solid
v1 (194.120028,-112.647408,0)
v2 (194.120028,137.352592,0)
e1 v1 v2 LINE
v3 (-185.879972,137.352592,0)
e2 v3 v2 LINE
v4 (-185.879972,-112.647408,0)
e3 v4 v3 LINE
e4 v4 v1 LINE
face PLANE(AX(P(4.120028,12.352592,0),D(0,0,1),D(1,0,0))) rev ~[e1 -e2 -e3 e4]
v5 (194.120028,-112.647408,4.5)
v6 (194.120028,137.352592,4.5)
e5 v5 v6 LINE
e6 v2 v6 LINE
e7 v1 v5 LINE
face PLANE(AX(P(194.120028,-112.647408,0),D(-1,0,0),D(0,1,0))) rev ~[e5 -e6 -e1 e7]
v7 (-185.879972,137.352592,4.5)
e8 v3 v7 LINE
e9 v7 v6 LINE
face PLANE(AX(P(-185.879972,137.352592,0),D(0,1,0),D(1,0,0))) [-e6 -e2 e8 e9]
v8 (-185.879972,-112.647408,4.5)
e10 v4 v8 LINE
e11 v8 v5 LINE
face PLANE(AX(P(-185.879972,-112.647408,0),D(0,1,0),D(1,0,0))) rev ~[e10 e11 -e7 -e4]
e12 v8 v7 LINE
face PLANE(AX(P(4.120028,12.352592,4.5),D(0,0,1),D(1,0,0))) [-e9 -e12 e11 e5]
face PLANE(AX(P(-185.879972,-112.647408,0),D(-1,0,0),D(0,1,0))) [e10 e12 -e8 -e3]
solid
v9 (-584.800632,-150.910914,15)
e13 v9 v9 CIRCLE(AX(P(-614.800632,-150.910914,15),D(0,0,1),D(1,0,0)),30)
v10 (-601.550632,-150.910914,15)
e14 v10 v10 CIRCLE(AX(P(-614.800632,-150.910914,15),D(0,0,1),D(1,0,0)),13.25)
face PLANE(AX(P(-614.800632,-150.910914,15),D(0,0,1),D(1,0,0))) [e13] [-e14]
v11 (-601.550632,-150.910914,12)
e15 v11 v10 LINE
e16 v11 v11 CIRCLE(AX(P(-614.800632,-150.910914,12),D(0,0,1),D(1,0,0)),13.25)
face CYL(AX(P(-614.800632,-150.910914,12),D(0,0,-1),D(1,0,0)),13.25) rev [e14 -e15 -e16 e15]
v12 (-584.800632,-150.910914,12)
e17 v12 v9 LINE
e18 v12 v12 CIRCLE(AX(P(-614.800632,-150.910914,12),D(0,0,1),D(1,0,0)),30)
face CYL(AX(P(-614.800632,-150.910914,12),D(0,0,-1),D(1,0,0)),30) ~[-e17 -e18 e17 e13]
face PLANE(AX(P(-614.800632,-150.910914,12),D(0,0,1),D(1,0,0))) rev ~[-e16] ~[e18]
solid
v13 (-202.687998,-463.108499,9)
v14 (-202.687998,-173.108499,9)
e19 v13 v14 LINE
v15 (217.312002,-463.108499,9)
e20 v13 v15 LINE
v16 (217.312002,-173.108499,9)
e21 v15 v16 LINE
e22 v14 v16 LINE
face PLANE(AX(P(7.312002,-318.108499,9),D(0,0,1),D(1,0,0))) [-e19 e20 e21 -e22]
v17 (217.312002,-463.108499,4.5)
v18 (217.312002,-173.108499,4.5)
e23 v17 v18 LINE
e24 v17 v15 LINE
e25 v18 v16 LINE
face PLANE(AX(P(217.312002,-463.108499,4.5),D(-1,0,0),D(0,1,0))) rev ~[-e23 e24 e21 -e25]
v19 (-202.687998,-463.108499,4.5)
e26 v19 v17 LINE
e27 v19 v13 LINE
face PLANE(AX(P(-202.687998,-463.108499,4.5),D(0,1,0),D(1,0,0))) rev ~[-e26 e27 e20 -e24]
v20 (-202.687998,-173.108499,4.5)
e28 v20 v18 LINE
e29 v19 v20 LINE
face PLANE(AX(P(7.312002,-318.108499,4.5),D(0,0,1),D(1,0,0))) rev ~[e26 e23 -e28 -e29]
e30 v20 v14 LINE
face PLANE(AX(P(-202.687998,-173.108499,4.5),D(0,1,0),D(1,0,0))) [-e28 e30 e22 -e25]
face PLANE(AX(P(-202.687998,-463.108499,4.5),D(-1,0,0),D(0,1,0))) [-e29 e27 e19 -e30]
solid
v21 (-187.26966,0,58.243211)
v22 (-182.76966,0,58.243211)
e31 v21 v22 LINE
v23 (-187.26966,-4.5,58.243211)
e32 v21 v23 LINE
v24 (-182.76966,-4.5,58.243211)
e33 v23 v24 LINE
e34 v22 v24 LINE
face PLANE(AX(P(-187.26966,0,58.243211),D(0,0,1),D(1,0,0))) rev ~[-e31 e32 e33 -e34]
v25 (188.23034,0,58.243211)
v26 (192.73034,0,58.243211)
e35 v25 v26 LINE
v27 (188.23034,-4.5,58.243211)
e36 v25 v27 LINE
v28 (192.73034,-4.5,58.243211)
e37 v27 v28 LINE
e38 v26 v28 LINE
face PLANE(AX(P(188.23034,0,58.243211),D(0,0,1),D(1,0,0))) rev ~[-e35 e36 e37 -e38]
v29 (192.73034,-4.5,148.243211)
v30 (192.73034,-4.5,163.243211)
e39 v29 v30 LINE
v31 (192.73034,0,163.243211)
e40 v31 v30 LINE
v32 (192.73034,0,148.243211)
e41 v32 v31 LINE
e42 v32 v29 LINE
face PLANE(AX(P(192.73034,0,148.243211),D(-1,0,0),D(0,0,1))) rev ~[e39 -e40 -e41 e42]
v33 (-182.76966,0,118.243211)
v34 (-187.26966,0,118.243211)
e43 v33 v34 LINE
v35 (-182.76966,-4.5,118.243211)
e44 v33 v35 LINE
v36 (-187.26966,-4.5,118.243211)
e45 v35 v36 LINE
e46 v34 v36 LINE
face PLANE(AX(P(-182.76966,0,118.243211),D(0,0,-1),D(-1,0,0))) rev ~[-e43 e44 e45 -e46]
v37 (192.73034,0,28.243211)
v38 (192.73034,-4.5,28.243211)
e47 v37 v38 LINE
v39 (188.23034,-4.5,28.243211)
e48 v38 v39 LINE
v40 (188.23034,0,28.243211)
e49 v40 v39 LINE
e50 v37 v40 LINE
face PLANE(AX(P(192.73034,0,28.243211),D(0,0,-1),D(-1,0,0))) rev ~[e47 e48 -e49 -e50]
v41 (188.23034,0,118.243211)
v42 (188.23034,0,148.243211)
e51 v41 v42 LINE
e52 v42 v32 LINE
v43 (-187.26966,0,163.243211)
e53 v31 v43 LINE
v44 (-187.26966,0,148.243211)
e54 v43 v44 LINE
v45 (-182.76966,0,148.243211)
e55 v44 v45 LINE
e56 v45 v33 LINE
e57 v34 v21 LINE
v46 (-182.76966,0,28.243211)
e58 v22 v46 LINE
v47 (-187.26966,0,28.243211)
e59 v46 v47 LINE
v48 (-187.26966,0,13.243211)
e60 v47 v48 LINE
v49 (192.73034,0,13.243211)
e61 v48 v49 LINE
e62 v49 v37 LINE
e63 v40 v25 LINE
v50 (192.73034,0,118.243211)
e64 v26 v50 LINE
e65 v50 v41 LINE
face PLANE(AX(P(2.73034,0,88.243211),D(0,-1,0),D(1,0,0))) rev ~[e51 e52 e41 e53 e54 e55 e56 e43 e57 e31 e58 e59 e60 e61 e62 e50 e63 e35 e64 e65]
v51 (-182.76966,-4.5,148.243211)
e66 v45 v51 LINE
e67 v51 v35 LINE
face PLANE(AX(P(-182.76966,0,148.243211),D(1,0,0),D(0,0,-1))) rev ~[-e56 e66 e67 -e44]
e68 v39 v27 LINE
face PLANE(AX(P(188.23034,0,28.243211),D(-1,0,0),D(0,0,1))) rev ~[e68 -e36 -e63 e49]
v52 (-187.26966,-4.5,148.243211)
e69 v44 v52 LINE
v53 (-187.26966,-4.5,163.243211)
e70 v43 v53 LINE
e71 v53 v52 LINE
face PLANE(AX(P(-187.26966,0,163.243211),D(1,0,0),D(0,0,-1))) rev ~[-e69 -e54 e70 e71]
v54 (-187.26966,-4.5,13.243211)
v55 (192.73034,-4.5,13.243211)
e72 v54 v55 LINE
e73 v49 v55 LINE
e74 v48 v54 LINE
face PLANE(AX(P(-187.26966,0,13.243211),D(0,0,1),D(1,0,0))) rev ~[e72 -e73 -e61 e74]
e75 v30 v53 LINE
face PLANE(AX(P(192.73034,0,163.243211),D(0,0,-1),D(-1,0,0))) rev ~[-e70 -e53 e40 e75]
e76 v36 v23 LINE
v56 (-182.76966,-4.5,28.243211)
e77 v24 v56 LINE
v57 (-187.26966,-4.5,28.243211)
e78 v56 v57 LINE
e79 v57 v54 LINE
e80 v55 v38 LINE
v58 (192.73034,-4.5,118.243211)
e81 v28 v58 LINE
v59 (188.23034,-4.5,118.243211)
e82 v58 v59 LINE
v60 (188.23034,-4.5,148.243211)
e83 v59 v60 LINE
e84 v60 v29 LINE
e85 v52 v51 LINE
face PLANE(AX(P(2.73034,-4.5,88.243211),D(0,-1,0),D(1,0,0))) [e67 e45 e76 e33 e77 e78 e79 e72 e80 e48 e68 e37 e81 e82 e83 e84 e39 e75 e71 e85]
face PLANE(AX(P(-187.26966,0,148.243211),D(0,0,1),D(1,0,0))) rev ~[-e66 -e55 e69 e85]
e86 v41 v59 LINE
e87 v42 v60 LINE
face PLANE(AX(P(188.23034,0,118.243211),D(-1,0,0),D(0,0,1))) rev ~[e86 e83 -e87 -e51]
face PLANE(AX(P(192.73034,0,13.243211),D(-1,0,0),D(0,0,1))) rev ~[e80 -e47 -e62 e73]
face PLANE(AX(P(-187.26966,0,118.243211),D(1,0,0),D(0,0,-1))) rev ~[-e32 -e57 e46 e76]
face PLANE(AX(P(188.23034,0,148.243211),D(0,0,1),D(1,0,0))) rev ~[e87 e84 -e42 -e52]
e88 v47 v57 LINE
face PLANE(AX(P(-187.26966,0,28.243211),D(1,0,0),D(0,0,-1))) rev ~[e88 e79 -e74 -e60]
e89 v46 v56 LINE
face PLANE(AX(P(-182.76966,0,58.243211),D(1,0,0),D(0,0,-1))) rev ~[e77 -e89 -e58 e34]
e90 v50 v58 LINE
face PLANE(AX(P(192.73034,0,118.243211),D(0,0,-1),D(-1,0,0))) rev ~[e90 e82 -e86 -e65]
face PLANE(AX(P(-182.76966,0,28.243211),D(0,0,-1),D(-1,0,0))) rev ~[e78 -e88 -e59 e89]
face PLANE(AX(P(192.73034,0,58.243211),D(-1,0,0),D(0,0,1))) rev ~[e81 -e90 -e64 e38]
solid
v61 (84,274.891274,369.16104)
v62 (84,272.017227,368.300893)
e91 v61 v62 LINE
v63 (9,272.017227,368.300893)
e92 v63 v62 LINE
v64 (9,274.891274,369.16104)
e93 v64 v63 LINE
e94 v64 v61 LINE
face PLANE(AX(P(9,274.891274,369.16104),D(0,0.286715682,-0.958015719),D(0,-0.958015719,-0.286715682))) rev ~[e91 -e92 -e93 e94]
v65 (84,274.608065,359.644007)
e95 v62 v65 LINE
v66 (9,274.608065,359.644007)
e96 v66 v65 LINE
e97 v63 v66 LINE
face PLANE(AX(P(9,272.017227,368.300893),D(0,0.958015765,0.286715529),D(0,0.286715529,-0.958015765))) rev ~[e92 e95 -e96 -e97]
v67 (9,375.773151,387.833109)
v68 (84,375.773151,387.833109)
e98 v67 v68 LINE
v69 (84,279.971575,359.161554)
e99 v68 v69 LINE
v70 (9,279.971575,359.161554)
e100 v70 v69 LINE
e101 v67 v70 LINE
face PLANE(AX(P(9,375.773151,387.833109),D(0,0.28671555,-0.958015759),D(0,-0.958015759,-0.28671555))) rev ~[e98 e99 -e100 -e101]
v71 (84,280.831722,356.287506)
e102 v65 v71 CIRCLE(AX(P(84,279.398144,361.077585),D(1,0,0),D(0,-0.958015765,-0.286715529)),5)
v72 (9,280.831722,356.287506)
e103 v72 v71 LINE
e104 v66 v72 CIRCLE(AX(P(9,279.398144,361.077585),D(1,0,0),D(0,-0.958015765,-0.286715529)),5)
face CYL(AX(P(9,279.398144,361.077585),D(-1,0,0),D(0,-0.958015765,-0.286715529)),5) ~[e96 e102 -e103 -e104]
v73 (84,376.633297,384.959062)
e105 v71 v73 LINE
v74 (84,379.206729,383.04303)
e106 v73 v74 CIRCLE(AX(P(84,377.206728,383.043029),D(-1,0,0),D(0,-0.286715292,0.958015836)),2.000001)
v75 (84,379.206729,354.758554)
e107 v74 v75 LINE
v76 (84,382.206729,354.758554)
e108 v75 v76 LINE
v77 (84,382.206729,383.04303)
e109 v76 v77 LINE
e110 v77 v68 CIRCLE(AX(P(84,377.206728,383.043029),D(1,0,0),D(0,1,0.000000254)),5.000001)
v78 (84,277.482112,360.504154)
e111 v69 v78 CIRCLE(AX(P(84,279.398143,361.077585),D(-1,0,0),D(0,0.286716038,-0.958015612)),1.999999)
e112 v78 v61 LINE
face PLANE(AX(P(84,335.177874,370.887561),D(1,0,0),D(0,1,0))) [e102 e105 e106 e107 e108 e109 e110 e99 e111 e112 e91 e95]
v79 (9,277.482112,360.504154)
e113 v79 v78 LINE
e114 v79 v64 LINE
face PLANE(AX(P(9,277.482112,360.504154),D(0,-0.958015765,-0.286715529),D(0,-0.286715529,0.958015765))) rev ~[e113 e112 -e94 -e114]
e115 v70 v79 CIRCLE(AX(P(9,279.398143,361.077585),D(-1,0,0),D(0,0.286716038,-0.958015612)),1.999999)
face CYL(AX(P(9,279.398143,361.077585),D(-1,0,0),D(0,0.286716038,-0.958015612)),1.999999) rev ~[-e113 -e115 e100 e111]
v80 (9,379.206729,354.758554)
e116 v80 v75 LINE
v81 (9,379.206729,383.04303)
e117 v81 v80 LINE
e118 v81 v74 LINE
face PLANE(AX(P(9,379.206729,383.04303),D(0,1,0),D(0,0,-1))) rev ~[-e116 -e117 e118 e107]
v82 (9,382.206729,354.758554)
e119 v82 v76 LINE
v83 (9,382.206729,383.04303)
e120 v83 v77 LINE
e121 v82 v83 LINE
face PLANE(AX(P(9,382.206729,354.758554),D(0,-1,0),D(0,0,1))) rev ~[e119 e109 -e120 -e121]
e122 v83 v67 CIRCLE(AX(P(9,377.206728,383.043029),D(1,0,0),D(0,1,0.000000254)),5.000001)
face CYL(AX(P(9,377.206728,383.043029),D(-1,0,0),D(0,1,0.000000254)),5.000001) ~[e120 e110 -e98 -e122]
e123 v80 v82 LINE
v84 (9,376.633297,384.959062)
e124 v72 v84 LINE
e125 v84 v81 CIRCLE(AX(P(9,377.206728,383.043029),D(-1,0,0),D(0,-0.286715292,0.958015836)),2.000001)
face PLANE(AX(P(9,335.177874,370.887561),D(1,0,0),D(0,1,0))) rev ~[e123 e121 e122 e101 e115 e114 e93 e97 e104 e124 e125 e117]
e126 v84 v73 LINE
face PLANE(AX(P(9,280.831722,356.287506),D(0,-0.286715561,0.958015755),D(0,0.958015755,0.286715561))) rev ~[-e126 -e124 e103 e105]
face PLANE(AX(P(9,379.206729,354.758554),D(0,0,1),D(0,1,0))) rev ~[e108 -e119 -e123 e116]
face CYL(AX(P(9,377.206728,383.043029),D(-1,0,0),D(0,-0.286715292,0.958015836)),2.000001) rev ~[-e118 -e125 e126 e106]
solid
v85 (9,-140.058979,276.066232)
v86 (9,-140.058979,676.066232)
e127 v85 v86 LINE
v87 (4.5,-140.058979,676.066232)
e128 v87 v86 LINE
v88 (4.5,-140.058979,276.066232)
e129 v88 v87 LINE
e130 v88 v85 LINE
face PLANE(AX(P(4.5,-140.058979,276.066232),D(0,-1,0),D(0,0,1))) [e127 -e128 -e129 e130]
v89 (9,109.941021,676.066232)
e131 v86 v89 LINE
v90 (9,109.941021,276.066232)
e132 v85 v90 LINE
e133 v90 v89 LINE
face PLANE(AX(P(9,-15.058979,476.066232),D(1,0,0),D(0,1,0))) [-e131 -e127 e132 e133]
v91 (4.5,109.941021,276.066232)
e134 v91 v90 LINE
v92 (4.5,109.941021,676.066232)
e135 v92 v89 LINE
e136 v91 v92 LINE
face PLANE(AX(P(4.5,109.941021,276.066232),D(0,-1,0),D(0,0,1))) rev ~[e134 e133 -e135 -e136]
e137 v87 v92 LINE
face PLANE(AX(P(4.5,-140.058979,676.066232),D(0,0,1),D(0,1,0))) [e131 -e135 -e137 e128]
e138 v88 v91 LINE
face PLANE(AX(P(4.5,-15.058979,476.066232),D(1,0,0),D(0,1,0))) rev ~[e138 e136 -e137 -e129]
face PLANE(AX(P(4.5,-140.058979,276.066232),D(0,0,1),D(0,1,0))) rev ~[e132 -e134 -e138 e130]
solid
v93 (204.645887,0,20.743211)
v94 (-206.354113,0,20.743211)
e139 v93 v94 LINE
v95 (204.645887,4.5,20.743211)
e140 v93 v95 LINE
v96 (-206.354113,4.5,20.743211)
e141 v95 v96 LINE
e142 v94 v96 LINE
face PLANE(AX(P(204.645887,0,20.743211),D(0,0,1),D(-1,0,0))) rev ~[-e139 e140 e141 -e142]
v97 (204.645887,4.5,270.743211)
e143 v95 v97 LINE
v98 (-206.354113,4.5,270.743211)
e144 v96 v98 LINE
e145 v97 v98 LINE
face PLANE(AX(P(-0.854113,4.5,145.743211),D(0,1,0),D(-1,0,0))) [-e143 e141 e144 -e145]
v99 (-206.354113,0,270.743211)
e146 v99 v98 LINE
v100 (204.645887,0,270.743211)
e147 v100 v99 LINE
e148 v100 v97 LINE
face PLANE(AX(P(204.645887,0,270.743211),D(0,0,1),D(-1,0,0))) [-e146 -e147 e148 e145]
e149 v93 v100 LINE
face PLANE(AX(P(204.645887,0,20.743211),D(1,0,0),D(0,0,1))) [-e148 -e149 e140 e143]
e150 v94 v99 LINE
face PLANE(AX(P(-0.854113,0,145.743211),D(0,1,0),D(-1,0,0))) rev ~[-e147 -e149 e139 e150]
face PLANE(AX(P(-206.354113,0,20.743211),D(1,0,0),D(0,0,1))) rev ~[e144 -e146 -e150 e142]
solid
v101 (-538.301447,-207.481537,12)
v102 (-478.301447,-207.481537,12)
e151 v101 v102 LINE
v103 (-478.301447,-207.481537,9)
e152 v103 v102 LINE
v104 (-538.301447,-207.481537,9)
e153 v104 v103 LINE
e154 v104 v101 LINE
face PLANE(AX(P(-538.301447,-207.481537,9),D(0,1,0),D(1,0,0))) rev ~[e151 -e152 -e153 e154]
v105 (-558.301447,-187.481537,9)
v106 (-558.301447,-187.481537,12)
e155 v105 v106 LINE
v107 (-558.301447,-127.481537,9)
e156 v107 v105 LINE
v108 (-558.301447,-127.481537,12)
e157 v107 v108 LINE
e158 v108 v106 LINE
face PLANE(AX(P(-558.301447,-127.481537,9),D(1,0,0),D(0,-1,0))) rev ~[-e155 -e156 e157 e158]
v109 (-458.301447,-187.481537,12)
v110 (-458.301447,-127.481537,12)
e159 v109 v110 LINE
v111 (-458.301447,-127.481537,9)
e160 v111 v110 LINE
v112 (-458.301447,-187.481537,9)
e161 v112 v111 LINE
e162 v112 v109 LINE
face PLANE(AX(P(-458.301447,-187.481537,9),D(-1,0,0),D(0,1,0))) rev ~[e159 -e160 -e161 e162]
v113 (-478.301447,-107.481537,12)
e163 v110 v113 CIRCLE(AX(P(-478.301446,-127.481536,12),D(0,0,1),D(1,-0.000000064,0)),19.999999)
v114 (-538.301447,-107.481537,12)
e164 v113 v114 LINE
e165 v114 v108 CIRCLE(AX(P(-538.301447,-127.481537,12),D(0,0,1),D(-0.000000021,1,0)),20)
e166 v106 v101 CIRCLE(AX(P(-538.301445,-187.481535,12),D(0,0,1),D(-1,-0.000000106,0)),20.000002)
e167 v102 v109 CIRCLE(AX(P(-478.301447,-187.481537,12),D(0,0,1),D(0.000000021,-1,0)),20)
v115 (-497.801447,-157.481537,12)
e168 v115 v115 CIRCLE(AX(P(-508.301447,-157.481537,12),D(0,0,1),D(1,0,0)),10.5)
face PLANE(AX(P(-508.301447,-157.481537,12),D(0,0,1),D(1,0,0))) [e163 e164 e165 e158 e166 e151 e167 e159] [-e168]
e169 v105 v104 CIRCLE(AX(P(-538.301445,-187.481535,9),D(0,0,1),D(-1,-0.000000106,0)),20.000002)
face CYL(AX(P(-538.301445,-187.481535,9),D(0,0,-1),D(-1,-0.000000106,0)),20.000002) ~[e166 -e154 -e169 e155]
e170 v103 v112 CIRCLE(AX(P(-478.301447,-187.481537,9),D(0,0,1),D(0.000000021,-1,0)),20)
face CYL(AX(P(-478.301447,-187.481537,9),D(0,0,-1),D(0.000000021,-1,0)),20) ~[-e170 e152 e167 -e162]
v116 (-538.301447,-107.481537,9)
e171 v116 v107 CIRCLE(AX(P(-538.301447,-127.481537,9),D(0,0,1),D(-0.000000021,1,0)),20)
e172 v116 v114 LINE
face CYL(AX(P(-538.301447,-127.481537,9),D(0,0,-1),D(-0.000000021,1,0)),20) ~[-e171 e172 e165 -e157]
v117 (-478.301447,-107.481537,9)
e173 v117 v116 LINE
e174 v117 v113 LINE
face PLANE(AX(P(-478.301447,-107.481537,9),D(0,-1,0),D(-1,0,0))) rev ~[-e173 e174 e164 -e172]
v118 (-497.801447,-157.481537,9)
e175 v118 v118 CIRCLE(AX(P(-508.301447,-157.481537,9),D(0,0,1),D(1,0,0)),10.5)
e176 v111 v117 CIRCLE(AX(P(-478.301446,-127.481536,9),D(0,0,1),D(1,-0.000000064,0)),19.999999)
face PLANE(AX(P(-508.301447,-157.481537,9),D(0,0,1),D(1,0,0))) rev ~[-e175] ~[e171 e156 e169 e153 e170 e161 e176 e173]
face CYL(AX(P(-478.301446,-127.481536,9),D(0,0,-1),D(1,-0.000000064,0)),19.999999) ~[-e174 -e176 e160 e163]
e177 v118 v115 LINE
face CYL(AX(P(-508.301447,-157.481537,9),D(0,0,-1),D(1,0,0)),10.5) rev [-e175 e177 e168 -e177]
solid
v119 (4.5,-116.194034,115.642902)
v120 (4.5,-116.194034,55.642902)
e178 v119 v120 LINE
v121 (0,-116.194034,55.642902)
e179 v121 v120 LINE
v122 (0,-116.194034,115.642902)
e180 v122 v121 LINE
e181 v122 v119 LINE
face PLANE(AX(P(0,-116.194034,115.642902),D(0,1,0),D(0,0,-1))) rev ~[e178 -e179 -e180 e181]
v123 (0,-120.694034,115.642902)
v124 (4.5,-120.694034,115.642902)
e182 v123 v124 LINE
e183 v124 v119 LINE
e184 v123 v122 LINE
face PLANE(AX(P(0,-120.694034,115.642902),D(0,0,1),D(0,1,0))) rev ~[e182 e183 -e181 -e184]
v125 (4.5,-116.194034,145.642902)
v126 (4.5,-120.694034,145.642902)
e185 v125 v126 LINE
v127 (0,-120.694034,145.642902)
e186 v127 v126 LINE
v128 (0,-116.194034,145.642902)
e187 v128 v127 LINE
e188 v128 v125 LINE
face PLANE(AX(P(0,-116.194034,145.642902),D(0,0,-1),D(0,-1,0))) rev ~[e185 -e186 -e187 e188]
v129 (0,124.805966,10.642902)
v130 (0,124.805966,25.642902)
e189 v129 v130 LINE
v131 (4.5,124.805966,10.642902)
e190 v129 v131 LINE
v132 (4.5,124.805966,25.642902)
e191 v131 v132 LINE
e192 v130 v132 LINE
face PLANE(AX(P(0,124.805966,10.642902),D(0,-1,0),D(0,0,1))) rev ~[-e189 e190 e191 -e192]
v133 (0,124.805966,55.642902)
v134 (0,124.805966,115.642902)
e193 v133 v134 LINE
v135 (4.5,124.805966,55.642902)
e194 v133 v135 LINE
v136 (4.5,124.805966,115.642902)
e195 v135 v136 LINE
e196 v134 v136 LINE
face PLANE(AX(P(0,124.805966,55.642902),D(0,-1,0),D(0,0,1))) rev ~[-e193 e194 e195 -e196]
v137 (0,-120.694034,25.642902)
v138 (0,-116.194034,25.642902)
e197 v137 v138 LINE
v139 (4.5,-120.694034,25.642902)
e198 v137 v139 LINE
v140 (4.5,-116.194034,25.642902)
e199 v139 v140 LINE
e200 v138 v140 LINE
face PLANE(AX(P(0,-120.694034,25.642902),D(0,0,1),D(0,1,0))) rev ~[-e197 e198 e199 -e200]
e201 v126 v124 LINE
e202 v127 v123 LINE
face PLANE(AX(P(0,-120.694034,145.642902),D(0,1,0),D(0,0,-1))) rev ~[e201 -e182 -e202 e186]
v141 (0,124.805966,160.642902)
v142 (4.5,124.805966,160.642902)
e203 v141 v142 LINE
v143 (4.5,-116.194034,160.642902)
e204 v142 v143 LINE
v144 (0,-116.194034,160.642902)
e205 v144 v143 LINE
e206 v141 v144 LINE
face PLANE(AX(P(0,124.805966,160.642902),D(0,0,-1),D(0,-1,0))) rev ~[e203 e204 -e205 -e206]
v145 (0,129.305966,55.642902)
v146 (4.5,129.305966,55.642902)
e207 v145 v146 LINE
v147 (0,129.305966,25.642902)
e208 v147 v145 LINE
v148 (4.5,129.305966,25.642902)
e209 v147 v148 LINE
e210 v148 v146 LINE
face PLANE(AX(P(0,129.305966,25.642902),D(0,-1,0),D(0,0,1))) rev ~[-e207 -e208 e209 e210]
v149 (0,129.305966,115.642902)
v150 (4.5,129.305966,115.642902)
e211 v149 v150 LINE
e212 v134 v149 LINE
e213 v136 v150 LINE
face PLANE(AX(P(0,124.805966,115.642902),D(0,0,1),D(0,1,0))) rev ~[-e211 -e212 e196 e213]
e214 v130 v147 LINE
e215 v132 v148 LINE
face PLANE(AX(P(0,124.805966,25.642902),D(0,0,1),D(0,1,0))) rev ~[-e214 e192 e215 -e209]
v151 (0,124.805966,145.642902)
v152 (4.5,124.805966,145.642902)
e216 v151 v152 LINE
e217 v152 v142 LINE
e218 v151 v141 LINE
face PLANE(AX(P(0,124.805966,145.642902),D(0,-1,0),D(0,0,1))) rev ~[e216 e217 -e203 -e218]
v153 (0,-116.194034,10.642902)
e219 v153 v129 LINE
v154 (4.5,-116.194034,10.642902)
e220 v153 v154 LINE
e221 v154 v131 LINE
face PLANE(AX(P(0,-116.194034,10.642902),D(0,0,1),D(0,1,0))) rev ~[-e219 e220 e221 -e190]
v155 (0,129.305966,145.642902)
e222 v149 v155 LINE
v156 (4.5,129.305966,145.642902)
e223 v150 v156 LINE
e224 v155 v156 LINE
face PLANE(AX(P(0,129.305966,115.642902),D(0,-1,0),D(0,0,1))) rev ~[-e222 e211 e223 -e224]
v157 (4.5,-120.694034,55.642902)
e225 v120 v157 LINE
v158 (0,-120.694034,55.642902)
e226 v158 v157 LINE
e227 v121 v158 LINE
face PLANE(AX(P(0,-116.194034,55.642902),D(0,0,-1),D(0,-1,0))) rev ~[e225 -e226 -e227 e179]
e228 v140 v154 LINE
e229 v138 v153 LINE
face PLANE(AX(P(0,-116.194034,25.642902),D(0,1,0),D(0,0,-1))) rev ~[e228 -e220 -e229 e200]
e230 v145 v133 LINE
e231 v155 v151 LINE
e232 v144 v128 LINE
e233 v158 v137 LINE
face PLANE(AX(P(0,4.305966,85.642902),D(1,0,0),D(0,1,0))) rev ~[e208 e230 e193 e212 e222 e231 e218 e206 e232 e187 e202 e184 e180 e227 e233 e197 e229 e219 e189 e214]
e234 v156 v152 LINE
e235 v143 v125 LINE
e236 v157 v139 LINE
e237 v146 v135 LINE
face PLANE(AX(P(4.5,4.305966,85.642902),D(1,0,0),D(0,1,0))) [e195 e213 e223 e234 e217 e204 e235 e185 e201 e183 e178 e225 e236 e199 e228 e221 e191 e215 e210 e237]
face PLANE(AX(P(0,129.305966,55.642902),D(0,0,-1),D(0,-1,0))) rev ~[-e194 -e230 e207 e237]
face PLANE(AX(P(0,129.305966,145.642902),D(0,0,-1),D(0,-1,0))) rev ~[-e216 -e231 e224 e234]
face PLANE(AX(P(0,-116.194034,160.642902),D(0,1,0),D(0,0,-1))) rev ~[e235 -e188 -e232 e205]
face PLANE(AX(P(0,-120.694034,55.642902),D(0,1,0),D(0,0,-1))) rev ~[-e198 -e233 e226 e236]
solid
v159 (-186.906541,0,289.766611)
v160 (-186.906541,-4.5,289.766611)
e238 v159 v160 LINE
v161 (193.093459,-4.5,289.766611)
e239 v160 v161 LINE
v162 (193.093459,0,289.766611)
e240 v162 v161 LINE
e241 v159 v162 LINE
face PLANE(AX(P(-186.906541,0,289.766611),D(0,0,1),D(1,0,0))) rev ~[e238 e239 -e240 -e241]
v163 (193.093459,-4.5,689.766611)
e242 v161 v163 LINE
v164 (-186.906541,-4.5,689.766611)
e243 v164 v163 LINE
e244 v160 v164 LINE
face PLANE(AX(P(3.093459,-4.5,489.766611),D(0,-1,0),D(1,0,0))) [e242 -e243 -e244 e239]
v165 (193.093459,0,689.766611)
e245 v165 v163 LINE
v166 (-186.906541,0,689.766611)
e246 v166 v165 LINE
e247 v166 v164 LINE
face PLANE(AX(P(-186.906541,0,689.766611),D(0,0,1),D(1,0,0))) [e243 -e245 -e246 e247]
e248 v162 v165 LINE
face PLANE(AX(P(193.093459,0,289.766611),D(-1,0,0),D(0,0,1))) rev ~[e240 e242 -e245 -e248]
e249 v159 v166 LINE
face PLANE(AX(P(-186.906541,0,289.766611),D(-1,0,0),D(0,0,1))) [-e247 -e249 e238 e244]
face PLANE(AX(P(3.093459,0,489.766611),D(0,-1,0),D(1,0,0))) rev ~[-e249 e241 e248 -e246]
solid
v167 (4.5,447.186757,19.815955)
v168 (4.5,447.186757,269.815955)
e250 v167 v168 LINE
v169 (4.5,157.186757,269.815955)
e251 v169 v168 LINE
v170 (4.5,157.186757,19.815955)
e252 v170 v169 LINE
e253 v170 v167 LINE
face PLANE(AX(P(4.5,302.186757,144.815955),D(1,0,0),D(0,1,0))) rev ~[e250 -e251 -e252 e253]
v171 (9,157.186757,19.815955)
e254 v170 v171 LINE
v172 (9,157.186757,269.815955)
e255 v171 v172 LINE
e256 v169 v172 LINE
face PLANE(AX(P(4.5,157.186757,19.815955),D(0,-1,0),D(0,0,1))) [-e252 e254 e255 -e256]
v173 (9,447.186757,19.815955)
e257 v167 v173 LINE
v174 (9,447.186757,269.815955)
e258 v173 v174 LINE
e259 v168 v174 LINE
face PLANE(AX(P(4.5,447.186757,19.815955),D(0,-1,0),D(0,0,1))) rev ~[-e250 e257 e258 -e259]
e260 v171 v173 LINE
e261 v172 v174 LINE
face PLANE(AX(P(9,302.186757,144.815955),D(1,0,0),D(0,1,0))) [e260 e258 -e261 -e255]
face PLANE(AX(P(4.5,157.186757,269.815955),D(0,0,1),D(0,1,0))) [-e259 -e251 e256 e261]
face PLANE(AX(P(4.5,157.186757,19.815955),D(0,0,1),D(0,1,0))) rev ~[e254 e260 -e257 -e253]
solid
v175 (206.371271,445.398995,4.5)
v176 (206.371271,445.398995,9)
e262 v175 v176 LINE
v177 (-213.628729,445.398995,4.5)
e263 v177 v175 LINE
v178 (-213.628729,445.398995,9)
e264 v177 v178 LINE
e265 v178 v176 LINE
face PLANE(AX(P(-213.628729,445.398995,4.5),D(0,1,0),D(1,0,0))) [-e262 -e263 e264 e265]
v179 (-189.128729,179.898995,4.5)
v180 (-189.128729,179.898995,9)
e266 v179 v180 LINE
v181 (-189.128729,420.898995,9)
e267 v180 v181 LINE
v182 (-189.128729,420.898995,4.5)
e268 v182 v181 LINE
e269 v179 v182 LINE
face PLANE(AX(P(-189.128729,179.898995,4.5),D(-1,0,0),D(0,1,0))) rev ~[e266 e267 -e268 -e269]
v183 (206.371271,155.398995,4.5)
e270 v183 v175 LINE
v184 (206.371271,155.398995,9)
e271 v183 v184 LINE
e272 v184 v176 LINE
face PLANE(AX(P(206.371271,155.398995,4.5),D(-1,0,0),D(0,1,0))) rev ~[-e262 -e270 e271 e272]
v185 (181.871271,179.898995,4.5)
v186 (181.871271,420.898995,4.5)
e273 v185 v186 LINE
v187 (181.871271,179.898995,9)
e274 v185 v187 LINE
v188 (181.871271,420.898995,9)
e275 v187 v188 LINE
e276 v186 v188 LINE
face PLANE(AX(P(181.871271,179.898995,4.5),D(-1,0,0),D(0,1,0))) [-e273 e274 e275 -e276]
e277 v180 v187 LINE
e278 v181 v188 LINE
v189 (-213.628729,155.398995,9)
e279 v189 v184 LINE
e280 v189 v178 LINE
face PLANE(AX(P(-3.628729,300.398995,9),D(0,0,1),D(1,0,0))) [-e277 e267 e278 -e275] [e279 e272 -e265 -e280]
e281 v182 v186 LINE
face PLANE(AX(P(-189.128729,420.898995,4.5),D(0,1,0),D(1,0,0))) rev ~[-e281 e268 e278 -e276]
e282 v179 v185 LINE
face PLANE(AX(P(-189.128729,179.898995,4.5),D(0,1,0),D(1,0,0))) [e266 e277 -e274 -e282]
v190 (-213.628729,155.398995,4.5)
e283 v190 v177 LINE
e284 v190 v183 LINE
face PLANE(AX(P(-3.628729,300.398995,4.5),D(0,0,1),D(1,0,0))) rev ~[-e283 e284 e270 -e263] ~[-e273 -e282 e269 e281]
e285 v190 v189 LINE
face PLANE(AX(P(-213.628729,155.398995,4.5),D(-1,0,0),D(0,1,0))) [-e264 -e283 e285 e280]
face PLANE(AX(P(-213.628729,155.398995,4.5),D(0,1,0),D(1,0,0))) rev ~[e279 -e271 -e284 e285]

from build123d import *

# Parameters (mm, degrees)
F0_W      = 380
F0_H      = 250
F1_DEPTH  = 4.5
F3_DEPTH  = 4.5
F5_DEPTH  = 4.5
F6_W      = 420
F6_H      = 290
F6_W_2    = 371
F6_H_2    = 241
F7_DEPTH  = 4.5
F8_W      = 290
F8_H      = 250
F9_DEPTH  = 4.5
F10_W     = 411
F10_H     = 250
F11_DEPTH = 4.5
F12_W     = 420
F12_H     = 290
F13_DEPTH = 4.5
F14_W     = 380
F14_H     = 400
F15_DEPTH = 4.5
F16_W     = 250
F16_H     = 400
F17_DEPTH = 4.5
F19_DEPTH = 75
F20_R     = 10.5
F21_DEPTH = 3
F22_R     = 30
F22_R_2   = 13.25
F23_DEPTH = 3


with BuildPart() as f1:
    # F0 (on Top) → F1 (new body)
    with BuildSketch(Plane.XY):
        with Locations((4.120028, 12.352592)):
            Rectangle(F0_W, F0_H)
    extrude(amount=F1_DEPTH)


with BuildPart() as f3:
    # F2 (on Front) → F3 (new body)
    with BuildSketch(Plane.XZ):
        Polygon((-187.26966, 28.243211), (-187.26966, 13.243211), (192.73034, 13.243211), (192.73034, 28.243211), (188.23034, 28.243211), (188.23034, 58.243211), (192.73034, 58.243211), (192.73034, 118.243211), (188.23034, 118.243211), (188.23034, 148.243211), (192.73034, 148.243211), (192.73034, 163.243211), (-187.26966, 163.243211), (-187.26966, 148.243211), (-182.76966, 148.243211), (-182.76966, 118.243211), (-187.26966, 118.243211), (-187.26966, 58.243211), (-182.76966, 58.243211), (-182.76966, 28.243211), align=None)
    extrude(amount=F3_DEPTH)


with BuildPart() as f5:
    # F4 (on Right) → F5 (new body)
    with BuildSketch(Plane.YZ):
        Polygon((-116.194034, 25.642902), (-116.194034, 10.642902), (124.805966, 10.642902), (124.805966, 25.642902), (129.305966, 25.642902), (129.305966, 55.642902), (124.805966, 55.642902), (124.805966, 115.642902), (129.305966, 115.642902), (129.305966, 145.642902), (124.805966, 145.642902), (124.805966, 160.642902), (-116.194034, 160.642902), (-116.194034, 145.642902), (-120.694034, 145.642902), (-120.694034, 115.642902), (-116.194034, 115.642902), (-116.194034, 55.642902), (-120.694034, 55.642902), (-120.694034, 25.642902), align=None)
    extrude(amount=F5_DEPTH)


with BuildPart() as f7:
    # F6 (on face) → F7 (new body)
    with BuildSketch(Plane.XY.offset(4.5)):
        with Locations((-3.628729, 300.398995)):
            Rectangle(F6_W, F6_H)
        with Locations((-3.628729, 300.398995)):
            Rectangle(F6_W_2, F6_H_2, mode=Mode.SUBTRACT)
    extrude(amount=F7_DEPTH)


with BuildPart() as f9:
    # F8 (on face) → F9 (new body)
    with BuildSketch(Plane.YZ.offset(4.5)):
        with Locations((302.186757, 144.815955)):
            Rectangle(F8_W, F8_H)
    extrude(amount=F9_DEPTH)


with BuildPart() as f11:
    # F10 (on face) → F11 (new body)
    with BuildSketch(Plane(origin=(0, 0, 0), x_dir=(-1, 0, 0), z_dir=(0, 1, 0))):
        with Locations((0.854113, 145.743211)):
            Rectangle(F10_W, F10_H)
    extrude(amount=F11_DEPTH)


with BuildPart() as f13:
    # F12 (on face) → F13 (new body)
    with BuildSketch(Plane.XY.offset(4.5)):
        with Locations((7.312002, -318.108499)):
            Rectangle(F12_W, F12_H)
    extrude(amount=F13_DEPTH)


with BuildPart() as f15:
    # F14 (on face) → F15 (new body)
    with BuildSketch(Plane.XZ):
        with Locations((3.093459, 489.766611)):
            Rectangle(F14_W, F14_H)
    extrude(amount=F15_DEPTH)


with BuildPart() as f17:
    # F16 (on face) → F17 (new body)
    with BuildSketch(Plane.YZ.offset(4.5)):
        with Locations((-15.058979, 476.066232)):
            Rectangle(F16_W, F16_H)
    extrude(amount=F17_DEPTH)


with BuildPart() as f19:
    # F18 (on face) → F19 (new body)
    with BuildSketch(Plane.YZ.offset(9)):
        with BuildLine():
            Line((379.206729, 354.758554), (382.206729, 354.758554))
            Line((382.206729, 354.758554), (382.206729, 383.04303))
            ThreePointArc((382.206729, 383.04303), (380.192705, 387.053509), (375.773151, 387.833109))
            Line((375.773151, 387.833109), (279.971575, 359.161554))
            ThreePointArc((279.971575, 359.161554), (278.448782, 359.317269), (277.482112, 360.504154))
            Line((277.482112, 360.504154), (274.891274, 369.16104))
            Line((274.891274, 369.16104), (272.017227, 368.300893))
            Line((272.017227, 368.300893), (274.608065, 359.644007))
            ThreePointArc((274.608065, 359.644007), (277.024739, 356.676795), (280.831722, 356.287506))
            Line((280.831722, 356.287506), (376.633297, 384.959062))
            ThreePointArc((376.633297, 384.959062), (378.401119, 384.647222), (379.206729, 383.04303))
            Line((379.206729, 383.04303), (379.206729, 354.758554))
        make_face()
    extrude(amount=F19_DEPTH)


with BuildPart() as f21:
    # F20 (on face) → F21 (new body)
    with BuildSketch(Plane.XY.offset(9)):
        with BuildLine():
            Line((-538.301447, -207.481537), (-478.301447, -207.481537))
            ThreePointArc((-478.301447, -207.481537), (-464.159311, -201.623672), (-458.301447, -187.481537))
            Line((-458.301447, -187.481537), (-458.301447, -127.481537))
            ThreePointArc((-458.301447, -127.481537), (-464.159311, -113.339401), (-478.301447, -107.481537))
            Line((-478.301447, -107.481537), (-538.301447, -107.481537))
            ThreePointArc((-538.301447, -107.481537), (-552.443582, -113.339401), (-558.301447, -127.481537))
            Line((-558.301447, -127.481537), (-558.301447, -187.481537))
            ThreePointArc((-558.301447, -187.481537), (-552.443582, -201.623672), (-538.301447, -207.481537))
        make_face()
        with Locations((-508.301447, -157.481537)):
            Circle(F20_R, mode=Mode.SUBTRACT)
    extrude(amount=F21_DEPTH)


with BuildPart() as f23:
    # F22 (on face) → F23 (new body)
    with BuildSketch(Plane.XY.offset(12)):
        with Locations((-614.800632, -150.910914)):
            Circle(F22_R)
        with Locations((-614.800632, -150.910914)):
            Circle(F22_R_2, mode=Mode.SUBTRACT)
    extrude(amount=F23_DEPTH)


solid = Compound([f1.part, f3.part, f5.part, f7.part, f9.part, f11.part, f13.part, f15.part, f17.part, f19.part, f21.part, f23.part])
